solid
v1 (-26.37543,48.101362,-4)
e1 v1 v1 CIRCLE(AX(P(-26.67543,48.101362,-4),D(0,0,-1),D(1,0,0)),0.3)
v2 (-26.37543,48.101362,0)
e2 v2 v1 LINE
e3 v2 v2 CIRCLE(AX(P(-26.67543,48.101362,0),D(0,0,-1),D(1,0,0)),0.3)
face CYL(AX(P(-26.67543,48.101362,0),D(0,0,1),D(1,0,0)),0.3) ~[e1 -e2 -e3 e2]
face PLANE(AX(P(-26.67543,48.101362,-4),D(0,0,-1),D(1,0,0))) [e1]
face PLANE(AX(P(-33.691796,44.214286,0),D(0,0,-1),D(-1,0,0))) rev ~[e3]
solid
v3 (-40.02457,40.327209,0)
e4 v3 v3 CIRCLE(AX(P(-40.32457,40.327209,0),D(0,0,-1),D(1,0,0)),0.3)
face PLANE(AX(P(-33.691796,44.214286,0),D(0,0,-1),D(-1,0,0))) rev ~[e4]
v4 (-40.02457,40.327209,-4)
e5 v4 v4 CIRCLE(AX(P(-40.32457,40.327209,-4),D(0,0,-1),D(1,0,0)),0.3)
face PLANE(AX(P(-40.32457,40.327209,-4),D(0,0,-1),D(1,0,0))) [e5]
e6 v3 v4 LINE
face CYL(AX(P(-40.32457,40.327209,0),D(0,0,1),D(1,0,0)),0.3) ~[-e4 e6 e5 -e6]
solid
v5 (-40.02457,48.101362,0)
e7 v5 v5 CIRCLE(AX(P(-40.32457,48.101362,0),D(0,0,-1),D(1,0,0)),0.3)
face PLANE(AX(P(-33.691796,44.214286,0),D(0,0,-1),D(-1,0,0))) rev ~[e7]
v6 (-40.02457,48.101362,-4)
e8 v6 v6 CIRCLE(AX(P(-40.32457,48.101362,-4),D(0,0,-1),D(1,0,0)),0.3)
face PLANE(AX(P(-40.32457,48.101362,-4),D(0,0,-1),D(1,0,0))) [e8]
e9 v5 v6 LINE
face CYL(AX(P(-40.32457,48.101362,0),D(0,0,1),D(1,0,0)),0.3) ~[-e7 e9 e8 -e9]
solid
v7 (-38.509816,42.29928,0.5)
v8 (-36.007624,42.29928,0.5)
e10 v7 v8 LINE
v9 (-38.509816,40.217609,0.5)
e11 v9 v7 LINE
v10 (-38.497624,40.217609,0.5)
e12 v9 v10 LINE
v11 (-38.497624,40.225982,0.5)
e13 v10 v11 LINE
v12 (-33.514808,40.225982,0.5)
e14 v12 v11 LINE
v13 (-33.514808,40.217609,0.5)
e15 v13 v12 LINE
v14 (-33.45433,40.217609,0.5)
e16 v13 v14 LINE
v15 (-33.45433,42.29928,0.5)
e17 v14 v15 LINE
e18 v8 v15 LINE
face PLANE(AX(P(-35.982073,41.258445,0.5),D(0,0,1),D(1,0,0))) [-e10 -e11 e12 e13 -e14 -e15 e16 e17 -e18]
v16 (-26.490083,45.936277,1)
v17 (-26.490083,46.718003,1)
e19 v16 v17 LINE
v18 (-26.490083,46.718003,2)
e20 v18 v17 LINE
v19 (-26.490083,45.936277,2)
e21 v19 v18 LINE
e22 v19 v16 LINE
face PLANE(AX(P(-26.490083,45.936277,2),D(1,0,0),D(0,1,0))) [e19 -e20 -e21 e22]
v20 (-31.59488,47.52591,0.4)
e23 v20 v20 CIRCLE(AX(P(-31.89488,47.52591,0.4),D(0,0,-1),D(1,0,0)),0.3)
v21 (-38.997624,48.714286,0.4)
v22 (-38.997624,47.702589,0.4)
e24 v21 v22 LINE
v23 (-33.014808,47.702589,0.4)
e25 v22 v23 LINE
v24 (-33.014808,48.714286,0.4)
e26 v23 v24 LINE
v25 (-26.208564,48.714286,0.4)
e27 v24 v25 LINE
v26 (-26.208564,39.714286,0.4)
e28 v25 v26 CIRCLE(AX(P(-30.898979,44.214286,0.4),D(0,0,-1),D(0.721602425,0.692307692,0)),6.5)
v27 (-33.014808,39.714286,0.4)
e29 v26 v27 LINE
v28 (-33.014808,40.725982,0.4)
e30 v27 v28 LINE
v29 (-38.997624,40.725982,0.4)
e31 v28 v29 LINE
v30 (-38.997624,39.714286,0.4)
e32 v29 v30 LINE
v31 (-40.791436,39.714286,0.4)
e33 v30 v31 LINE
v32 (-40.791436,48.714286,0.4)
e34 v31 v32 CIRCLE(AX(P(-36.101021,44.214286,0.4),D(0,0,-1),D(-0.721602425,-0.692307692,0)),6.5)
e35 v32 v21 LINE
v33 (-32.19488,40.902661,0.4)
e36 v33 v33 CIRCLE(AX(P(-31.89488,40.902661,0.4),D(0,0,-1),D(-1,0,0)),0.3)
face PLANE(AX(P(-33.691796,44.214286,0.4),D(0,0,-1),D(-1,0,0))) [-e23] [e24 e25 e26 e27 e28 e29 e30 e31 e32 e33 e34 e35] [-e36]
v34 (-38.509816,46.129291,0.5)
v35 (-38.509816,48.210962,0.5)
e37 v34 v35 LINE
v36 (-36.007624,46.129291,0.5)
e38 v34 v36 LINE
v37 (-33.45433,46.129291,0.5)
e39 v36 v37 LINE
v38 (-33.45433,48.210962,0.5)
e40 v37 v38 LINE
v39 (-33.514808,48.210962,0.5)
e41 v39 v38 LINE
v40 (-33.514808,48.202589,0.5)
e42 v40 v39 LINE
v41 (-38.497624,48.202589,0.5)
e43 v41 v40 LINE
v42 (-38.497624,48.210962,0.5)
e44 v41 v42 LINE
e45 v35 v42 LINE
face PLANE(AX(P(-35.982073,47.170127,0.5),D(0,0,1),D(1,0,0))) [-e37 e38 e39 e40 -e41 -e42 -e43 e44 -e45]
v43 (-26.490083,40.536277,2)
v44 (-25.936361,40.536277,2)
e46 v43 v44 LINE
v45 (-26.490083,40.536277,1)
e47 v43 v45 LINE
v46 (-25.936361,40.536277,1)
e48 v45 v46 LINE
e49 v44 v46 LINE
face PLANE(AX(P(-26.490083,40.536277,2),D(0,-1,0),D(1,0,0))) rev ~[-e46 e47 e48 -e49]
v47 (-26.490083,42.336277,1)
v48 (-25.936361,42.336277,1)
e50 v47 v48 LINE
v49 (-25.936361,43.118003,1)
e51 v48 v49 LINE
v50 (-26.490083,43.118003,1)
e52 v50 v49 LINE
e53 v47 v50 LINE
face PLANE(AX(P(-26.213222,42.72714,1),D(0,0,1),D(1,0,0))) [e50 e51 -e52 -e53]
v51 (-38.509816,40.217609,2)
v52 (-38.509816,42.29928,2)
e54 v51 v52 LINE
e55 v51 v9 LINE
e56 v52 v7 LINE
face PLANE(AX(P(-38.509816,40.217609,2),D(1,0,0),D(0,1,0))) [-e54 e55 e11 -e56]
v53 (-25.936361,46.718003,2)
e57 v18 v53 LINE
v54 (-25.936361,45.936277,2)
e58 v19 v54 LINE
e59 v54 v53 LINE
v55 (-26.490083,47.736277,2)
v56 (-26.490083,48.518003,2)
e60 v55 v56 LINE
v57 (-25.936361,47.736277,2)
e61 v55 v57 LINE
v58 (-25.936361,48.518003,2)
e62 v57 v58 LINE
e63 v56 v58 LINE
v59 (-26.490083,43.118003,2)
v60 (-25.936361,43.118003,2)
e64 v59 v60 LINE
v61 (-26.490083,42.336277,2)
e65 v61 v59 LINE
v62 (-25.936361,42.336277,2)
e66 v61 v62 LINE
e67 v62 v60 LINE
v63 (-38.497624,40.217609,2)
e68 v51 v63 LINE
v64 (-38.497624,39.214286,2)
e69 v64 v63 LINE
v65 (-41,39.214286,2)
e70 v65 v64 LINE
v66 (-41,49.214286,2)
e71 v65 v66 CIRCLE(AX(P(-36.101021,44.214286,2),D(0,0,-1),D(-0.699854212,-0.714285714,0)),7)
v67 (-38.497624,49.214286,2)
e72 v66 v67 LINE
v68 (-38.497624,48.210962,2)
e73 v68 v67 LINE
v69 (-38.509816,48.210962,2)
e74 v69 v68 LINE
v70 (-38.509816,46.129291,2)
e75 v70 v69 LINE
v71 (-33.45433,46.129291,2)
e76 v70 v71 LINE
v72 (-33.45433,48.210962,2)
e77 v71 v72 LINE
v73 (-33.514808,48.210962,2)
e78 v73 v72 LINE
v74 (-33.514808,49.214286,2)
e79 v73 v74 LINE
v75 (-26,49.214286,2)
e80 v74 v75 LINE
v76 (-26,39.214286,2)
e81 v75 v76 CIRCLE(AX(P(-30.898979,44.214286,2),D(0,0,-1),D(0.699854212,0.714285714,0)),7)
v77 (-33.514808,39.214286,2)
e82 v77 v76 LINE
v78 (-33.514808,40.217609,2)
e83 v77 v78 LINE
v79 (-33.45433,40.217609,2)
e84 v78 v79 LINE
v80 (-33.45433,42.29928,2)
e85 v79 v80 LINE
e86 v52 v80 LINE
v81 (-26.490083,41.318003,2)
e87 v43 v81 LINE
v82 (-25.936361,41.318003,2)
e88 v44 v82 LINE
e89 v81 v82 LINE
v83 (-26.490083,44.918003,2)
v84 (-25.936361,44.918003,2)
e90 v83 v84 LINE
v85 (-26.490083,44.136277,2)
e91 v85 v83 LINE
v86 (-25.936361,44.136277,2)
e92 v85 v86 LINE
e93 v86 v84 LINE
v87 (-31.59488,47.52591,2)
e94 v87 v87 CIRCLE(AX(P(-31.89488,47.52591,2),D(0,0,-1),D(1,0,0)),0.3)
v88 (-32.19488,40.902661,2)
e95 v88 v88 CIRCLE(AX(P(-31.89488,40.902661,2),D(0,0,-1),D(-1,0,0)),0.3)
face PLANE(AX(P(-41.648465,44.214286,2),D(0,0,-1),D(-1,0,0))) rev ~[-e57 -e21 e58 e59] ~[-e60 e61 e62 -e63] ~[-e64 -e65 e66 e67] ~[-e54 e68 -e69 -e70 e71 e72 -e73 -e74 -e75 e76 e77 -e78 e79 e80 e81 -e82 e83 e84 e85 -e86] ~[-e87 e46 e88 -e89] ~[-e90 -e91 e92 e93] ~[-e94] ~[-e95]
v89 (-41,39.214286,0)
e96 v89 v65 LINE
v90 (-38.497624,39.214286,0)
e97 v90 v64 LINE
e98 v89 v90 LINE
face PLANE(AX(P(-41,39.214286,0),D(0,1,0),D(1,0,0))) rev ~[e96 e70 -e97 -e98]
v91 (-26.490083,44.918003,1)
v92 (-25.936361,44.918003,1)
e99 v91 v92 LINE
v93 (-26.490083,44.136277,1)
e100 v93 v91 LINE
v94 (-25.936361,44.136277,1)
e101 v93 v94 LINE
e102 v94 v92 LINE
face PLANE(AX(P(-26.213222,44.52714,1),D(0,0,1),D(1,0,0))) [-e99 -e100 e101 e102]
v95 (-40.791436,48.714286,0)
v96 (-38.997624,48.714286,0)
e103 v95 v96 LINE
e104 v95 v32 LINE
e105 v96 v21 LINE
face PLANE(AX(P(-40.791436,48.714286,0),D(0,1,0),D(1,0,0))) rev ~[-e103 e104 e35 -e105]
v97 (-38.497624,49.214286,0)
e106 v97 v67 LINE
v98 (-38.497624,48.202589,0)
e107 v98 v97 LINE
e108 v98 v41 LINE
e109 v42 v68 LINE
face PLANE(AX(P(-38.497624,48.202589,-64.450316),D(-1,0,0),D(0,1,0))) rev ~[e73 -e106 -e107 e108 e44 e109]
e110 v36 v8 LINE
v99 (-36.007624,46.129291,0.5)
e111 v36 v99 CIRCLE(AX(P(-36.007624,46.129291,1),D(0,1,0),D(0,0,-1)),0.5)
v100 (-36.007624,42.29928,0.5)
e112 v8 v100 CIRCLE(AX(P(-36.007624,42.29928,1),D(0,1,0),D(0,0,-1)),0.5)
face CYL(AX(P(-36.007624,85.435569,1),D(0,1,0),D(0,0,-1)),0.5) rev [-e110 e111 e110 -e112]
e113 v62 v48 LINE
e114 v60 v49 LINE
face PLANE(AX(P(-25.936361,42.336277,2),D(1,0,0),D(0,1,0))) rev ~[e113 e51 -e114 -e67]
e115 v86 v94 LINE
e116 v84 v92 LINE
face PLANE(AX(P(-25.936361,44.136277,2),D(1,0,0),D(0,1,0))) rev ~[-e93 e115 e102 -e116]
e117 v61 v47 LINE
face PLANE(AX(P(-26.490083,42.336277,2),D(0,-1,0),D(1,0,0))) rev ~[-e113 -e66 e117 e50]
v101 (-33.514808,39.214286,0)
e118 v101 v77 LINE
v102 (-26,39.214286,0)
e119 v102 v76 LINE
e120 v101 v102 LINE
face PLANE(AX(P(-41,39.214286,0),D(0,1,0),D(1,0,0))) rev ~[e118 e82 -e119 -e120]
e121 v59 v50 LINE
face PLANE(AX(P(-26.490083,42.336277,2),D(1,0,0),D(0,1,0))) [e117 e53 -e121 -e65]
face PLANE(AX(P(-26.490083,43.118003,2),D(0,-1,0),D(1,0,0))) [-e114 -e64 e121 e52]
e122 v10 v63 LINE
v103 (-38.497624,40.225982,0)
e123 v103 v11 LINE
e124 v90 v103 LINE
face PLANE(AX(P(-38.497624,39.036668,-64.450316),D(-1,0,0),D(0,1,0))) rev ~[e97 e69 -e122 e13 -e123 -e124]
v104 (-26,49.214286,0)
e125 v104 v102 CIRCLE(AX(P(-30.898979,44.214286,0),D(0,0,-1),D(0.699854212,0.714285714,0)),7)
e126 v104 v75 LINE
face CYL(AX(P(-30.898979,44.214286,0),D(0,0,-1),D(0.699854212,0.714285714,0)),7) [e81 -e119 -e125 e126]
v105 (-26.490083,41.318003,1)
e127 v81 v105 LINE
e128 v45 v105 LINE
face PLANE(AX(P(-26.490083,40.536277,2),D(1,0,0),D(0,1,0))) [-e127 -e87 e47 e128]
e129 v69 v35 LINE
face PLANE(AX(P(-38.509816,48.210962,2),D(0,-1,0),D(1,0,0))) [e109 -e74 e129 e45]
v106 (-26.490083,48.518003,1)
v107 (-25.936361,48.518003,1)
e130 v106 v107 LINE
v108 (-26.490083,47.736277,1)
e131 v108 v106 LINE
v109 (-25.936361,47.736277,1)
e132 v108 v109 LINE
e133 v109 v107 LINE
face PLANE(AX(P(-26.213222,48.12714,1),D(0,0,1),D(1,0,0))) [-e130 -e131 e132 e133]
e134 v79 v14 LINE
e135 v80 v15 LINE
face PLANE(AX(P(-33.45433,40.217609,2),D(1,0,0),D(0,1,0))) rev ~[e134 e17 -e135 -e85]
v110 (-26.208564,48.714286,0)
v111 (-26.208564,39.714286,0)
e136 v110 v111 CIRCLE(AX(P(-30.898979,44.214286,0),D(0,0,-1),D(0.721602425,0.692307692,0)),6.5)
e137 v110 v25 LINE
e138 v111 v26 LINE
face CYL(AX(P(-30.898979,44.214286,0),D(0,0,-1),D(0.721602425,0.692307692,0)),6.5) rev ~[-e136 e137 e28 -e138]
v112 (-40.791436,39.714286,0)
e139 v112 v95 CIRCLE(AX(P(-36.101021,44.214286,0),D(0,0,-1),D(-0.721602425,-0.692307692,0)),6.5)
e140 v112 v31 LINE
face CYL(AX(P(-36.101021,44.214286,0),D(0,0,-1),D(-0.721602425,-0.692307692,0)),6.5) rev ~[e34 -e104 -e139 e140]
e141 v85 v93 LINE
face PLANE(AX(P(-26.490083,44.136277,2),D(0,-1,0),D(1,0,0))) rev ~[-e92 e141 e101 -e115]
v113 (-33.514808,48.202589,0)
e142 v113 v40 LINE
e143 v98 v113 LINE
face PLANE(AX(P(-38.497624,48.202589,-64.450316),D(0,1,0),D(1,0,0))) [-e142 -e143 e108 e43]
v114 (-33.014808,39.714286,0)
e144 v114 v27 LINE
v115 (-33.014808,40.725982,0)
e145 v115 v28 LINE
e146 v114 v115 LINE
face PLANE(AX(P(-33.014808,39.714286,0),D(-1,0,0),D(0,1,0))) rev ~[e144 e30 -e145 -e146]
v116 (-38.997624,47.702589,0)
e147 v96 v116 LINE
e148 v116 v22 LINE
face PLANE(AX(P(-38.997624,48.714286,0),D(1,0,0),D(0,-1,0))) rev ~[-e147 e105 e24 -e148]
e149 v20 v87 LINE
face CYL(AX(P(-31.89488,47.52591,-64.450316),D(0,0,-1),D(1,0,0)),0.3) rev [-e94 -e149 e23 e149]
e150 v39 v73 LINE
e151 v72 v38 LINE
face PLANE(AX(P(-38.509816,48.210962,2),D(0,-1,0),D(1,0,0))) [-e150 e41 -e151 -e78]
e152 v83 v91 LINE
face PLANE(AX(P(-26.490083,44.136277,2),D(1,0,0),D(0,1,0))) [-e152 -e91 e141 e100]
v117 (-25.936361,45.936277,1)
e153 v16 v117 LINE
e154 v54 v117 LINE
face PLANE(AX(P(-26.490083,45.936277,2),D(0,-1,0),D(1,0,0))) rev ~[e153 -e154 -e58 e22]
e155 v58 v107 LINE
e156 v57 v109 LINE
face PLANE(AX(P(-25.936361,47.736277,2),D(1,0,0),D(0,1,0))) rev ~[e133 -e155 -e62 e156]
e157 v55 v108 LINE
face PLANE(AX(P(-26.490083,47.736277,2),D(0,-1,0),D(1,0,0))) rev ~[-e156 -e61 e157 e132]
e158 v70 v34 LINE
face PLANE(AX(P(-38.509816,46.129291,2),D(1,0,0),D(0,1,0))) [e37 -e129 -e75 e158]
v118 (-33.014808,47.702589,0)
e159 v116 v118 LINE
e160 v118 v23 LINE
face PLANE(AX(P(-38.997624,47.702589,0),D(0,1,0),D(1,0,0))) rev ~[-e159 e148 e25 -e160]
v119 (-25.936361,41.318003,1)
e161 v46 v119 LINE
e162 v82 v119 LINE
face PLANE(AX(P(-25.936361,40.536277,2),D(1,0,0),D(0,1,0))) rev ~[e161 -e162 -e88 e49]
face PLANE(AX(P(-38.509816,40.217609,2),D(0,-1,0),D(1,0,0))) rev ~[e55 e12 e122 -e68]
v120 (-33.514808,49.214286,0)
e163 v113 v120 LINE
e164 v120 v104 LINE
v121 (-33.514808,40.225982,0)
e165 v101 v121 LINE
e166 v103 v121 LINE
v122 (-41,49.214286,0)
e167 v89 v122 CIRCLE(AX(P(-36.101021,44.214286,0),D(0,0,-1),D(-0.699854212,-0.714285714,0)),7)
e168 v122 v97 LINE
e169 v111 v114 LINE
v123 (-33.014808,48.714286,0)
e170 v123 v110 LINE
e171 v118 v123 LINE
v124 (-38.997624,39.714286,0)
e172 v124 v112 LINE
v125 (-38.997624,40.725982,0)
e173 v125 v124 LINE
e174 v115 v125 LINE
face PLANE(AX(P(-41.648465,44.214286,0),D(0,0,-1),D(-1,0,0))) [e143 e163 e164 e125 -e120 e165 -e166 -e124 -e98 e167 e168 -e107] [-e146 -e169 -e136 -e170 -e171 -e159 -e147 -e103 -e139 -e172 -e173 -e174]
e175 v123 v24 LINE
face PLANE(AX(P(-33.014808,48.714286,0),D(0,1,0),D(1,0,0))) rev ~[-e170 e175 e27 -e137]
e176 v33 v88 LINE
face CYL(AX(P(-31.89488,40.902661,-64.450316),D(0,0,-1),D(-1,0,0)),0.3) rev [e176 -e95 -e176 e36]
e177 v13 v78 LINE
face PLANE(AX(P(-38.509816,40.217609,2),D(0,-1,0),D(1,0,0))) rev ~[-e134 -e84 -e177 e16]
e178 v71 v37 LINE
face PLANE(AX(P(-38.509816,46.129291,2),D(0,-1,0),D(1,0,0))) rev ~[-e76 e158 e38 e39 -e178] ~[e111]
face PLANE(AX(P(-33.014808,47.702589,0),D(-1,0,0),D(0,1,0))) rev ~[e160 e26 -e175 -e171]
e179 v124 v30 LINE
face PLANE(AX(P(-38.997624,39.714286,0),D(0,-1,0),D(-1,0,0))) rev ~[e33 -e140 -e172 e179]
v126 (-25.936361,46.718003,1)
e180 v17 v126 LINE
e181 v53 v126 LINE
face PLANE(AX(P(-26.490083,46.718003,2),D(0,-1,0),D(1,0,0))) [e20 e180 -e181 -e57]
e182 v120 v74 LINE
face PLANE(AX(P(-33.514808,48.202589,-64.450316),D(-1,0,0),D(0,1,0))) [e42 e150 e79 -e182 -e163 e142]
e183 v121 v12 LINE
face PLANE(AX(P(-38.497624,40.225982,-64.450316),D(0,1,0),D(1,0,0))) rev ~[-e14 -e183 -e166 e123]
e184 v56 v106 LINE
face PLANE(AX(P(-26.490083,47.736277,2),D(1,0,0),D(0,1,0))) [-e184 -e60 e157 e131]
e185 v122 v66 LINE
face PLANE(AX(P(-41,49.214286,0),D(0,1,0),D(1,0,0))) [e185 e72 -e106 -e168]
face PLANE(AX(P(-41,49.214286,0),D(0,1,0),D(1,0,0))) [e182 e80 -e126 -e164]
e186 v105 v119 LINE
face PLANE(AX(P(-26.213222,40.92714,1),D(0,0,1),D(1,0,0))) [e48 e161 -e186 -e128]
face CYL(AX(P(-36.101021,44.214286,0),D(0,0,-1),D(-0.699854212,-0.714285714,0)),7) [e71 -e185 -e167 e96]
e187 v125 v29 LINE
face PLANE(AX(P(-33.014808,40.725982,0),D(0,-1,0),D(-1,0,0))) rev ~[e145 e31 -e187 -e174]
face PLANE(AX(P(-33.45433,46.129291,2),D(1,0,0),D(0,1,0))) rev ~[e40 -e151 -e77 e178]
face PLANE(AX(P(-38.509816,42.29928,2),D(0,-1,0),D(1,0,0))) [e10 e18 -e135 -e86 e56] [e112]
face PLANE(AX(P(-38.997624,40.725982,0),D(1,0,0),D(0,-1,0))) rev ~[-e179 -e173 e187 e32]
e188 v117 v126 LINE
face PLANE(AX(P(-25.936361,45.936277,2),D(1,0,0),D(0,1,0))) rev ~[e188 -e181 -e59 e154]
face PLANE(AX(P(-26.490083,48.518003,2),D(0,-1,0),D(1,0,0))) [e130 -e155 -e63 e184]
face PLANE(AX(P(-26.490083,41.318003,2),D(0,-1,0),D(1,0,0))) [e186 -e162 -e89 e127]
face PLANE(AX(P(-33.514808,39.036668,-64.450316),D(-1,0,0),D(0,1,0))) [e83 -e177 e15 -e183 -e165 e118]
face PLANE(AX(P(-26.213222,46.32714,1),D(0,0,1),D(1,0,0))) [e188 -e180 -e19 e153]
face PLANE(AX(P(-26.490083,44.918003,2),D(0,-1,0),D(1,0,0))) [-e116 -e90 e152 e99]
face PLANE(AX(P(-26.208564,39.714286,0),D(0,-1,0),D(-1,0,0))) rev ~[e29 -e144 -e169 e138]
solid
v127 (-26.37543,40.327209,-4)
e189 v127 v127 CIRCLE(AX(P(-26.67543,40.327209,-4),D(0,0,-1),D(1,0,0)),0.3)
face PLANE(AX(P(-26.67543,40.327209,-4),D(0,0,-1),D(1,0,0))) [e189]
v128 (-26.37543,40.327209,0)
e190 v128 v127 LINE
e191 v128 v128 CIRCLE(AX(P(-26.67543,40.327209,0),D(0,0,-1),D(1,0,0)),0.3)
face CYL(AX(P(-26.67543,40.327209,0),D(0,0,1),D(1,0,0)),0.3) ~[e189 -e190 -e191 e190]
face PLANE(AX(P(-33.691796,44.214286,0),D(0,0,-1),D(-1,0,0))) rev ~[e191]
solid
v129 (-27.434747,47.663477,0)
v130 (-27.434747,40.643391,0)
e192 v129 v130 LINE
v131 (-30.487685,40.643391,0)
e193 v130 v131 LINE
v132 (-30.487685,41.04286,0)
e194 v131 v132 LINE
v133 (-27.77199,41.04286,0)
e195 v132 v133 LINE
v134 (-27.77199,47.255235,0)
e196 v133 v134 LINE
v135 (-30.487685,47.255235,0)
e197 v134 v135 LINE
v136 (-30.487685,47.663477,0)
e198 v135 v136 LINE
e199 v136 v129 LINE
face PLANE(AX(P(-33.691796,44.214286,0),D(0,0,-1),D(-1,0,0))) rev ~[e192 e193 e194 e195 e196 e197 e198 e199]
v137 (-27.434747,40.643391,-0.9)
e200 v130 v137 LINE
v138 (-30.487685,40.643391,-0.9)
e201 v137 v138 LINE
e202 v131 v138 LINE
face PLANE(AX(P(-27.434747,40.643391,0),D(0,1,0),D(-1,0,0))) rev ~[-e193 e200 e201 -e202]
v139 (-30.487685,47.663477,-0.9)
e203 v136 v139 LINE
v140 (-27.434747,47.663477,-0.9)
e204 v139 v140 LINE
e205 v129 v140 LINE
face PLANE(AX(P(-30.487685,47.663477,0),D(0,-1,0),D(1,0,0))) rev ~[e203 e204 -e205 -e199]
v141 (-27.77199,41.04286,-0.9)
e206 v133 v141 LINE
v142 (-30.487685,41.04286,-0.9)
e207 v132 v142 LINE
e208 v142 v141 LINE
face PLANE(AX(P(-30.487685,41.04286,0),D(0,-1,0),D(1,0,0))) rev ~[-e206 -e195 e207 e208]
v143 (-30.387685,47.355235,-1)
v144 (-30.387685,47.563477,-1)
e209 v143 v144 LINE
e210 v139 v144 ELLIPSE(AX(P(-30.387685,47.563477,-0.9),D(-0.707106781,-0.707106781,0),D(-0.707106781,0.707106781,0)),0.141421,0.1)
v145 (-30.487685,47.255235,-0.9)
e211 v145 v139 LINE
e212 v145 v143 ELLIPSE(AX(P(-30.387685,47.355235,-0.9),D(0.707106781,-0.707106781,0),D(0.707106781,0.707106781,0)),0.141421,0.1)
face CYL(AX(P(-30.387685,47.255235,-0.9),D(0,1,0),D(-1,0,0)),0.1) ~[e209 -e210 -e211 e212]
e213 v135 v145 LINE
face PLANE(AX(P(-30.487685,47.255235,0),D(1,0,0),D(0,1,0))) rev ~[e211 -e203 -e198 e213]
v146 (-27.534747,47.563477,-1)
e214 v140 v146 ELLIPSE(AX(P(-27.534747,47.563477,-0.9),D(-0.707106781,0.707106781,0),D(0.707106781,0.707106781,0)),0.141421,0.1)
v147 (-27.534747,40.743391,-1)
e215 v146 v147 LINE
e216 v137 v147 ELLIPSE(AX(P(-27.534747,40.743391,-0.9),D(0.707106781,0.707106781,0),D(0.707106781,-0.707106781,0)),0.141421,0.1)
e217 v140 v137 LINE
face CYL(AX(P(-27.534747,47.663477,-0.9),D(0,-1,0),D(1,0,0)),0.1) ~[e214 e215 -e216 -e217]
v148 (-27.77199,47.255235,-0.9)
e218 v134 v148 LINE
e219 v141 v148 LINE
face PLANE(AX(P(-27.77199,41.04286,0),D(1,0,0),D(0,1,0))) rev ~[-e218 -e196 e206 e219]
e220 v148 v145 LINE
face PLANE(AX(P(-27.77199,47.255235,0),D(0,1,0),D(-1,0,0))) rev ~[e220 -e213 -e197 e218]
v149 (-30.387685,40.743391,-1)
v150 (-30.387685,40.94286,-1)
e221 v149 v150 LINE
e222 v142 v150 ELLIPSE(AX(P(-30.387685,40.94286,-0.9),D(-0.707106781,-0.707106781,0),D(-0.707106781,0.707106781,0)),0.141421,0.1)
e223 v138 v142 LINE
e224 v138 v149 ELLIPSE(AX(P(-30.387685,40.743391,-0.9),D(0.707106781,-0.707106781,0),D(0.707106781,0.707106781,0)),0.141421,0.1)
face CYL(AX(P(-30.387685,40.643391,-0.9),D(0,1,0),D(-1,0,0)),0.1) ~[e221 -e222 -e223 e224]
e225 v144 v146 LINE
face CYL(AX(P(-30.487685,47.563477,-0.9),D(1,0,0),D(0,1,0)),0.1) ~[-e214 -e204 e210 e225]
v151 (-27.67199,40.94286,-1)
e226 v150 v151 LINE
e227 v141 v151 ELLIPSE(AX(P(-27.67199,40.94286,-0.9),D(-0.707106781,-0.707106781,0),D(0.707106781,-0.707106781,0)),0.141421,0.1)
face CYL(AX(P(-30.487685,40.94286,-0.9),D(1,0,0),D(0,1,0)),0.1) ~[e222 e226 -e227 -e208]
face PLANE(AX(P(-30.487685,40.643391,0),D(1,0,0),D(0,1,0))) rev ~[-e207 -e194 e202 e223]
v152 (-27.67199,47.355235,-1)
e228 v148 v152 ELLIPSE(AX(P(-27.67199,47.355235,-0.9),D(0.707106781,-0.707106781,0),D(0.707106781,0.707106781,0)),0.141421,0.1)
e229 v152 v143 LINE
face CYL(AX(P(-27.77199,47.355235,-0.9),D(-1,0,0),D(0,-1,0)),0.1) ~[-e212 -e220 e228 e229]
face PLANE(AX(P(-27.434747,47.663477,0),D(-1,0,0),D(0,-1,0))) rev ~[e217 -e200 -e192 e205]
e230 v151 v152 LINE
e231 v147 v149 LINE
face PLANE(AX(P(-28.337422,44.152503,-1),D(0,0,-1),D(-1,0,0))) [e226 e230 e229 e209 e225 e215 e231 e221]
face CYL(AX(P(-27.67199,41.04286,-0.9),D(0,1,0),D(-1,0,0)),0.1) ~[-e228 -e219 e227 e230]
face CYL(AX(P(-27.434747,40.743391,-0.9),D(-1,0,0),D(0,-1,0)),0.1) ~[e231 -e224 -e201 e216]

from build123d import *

# Parameters (mm, degrees)
SKETCH1_W               = 15
SKETCH1_H               = 10
BOSS_EXTRUDE1_DEPTH     = 2
CUT_EXTRUDE1_DEPTH      = 66.450316178
CUT_EXTRUDE1_DEPTH_BACK = 66.450316178
SKETCH2_W               = 4.982815842
SKETCH2_H               = 1.189314069
SKETCH2_H_2             = 1.18931407
CUT_EXTRUDE2_DEPTH      = 66.450316178
CUT_EXTRUDE2_DEPTH_BACK = 66.450316178
SKETCH3_R               = 0.3
SKETCH4_R               = 0.3
BOSS_EXTRUDE2_DEPTH     = 4
CUT_EXTRUDE3_DEPTH      = 45.209586789
CUT_EXTRUDE3_DEPTH_BACK = 45.209586789
SKETCH5_R               = 0.5
BOSS_EXTRUDE4_DEPTH     = 1
FILLET4_R               = 0.1
CUT_EXTRUDE4_DEPTH      = 0.4
SKETCH9_W               = 5.055486227
SKETCH9_H               = 2.081670799
SKETCH9_H_2             = 2.0816708
CUT_EXTRUDE5_DEPTH      = 1.5
SKETCH10_W              = 0.553722479
SKETCH10_H              = 0.781725852
CUT_EXTRUDE7_DEPTH      = 1


with BuildPart() as part:
    # Sketch1 → Boss-Extrude1 (new body)
    with BuildSketch(Plane.XY):
        with BuildLine():
            Line((-41, 49.214285714), (-41, 39.214285714))
            ThreePointArc((-41, 39.214285714), (-43.101020514, 44.214285714), (-41, 49.214285714))
        make_face()
        with Locations((-33.5, 44.214285714)):
            Rectangle(SKETCH1_W, SKETCH1_H)
        with BuildLine():
            ThreePointArc((-26, 49.214285714), (-23.898979486, 44.214285714), (-26, 39.214285714))
            Line((-26, 39.214285714), (-26, 49.214285714))
        make_face()
    extrude(amount=BOSS_EXTRUDE1_DEPTH)

    # Sketch2 → Cut-Extrude1 (cut, two sides: drawn at the far end of the back side and taken through both)
    with BuildSketch(Plane.XY.offset(2).offset(-CUT_EXTRUDE1_DEPTH_BACK)):
        with Locations((-36.006215856, 39.631325465)):
            Rectangle(SKETCH2_W, SKETCH2_H)
        with Locations((-36.006215856, 48.797245964)):
            Rectangle(SKETCH2_W, SKETCH2_H_2)
    extrude(amount=CUT_EXTRUDE1_DEPTH + CUT_EXTRUDE1_DEPTH_BACK, mode=Mode.SUBTRACT)

    # Sketch3 → Cut-Extrude2 (cut, two sides: drawn at the far end of the back side and taken through both)
    with BuildSketch(Plane.XY.offset(2).offset(-CUT_EXTRUDE2_DEPTH_BACK)):
        with Locations((-31.894880151, 47.525910235)):
            Circle(SKETCH3_R)
        with Locations(Location((-31.894880151, 40.902661194, 0), (0, 0, 180))):
            Circle(SKETCH3_R)
    extrude(amount=CUT_EXTRUDE2_DEPTH + CUT_EXTRUDE2_DEPTH_BACK, mode=Mode.SUBTRACT)

    # Sketch4 → Boss-Extrude2 (add)
    with BuildSketch(Plane(origin=(0, 0, 0), x_dir=(-1, 0, 0), z_dir=(0, 0, -1))):
        with Locations(Location((26.675429713, 48.101362416, 0), (0, 0, 180))):
            Circle(SKETCH4_R)
        with Locations(Location((26.675429713, 40.327209012, 0), (0, 0, 180))):
            Circle(SKETCH4_R)
        with Locations(Location((40.324570287, 40.327209012, 0), (0, 0, 180))):
            Circle(SKETCH4_R)
        with Locations(Location((40.324570287, 48.101362416, 0), (0, 0, 180))):
            Circle(SKETCH4_R)
    extrude(amount=BOSS_EXTRUDE2_DEPTH)

    # Sketch5 → Cut-Extrude3 (cut, two sides: drawn at the far end of the back side and taken through both)
    with BuildSketch(Plane.XZ.offset(-40.225982499).offset(-CUT_EXTRUDE3_DEPTH_BACK)):
        with Locations(Location((-36.007623777, 1, 0), (0, 0, 270))):
            Circle(SKETCH5_R)
    extrude(amount=CUT_EXTRUDE3_DEPTH + CUT_EXTRUDE3_DEPTH_BACK, mode=Mode.SUBTRACT)

    # Sketch6 → Boss-Extrude4 (add)
    with BuildSketch(Plane(origin=(0, 0, 0), x_dir=(-1, 0, 0), z_dir=(0, 0, -1))):
        Polygon((27.771990414, 41.042860475), (27.771990414, 47.255234787), (30.48768547, 47.255234787), (30.48768547, 47.663476527), (27.434747237, 47.663476527), (27.434747237, 40.643391403), (30.48768547, 40.643391403), (30.48768547, 41.042860475), align=None)
    extrude(amount=BOSS_EXTRUDE4_DEPTH)

    # Fillet4
    fillet4_edges = [part.edges().sort_by_distance(p)[0] for p in [
        (-30.48768547, 47.459355657, -1),
        (-28.961216354, 47.663476527, -1),
        (-30.48768547, 40.843125939, -1),
        (-29.129837942, 41.042860475, -1),
        (-27.771990414, 44.149047631, -1),
        (-27.434747237, 44.153433965, -1),
        (-28.961216354, 40.643391403, -1),
        (-29.129837942, 47.255234787, -1),
    ]]
    fillet(fillet4_edges, radius=FILLET4_R)

    # Sketch8 → Cut-Extrude4 (cut)
    with BuildSketch(Plane(origin=(0, 0, 0), x_dir=(-1, 0, 0), z_dir=(0, 0, -1))):
        with BuildLine():
            Line((40.791436274, 48.714285714), (38.997623777, 48.714285714))
            Line((38.997623777, 48.714285714), (38.997623777, 47.702588929))
            Line((38.997623777, 47.702588929), (33.014807935, 47.702588929))
            Line((33.014807935, 47.702588929), (33.014807935, 48.714285714))
            Line((33.014807935, 48.714285714), (26.208563726, 48.714285714))
            ThreePointArc((26.208563726, 48.714285714), (24.398979486, 44.214285714), (26.208563726, 39.714285714))
            Line((26.208563726, 39.714285714), (33.014807935, 39.714285714))
            Line((33.014807935, 39.714285714), (33.014807935, 40.725982499))
            Line((33.014807935, 40.725982499), (38.997623777, 40.725982499))
            Line((38.997623777, 40.725982499), (38.997623777, 39.714285714))
            Line((38.997623777, 39.714285714), (40.791436274, 39.714285714))
            ThreePointArc((40.791436274, 39.714285714), (42.601020514, 44.214285714), (40.791436274, 48.714285714))
        make_face()
    extrude(amount=-CUT_EXTRUDE4_DEPTH, mode=Mode.SUBTRACT)


with BuildPart() as cut_extrude4_piece_1:
    # of the separate pieces the step leaves, piece 1, a body of its own (cut_extrude4_pieces)
    add(part.part.solids().sort_by_distance((-41, 39.214285714, 0))[0])

    # Sketch9 → Cut-Extrude5 (cut)
    with BuildSketch(Plane.XY.offset(2)):
        with Locations((-35.982073043, 47.170126627)):
            Rectangle(SKETCH9_W, SKETCH9_H)
        with Locations((-35.982073043, 41.258444801)):
            Rectangle(SKETCH9_W, SKETCH9_H_2)
    extrude(amount=-CUT_EXTRUDE5_DEPTH, mode=Mode.SUBTRACT)

    # Sketch10 → Cut-Extrude7 (cut)
    with BuildSketch(Plane.XY.offset(2)):
        with Locations((-26.213222197, 46.3271403)):
            Rectangle(SKETCH10_W, SKETCH10_H)
        with Locations((-26.213222197, 48.1271403)):
            Rectangle(SKETCH10_W, SKETCH10_H)
        with Locations((-26.213222197, 44.5271403)):
            Rectangle(SKETCH10_W, SKETCH10_H)
        with Locations((-26.213222197, 42.7271403)):
            Rectangle(SKETCH10_W, SKETCH10_H)
        with Locations((-26.213222197, 40.9271403)):
            Rectangle(SKETCH10_W, SKETCH10_H)
    extrude(amount=-CUT_EXTRUDE7_DEPTH, mode=Mode.SUBTRACT)


with BuildPart() as cut_extrude4_piece_2:
    # of the separate pieces the step leaves, piece 2, a body of its own (cut_extrude4_pieces)
    add(part.part.solids().sort_by_distance((-27.771990414, 41.042860475, -0.9))[0])


with BuildPart() as cut_extrude4_piece_3:
    # of the separate pieces the step leaves, piece 3, a body of its own (cut_extrude4_pieces)
    add(part.part.solids().sort_by_distance((-40.024570287, 40.327209012, 0))[0])


with BuildPart() as cut_extrude4_piece_4:
    # of the separate pieces the step leaves, piece 4, a body of its own (cut_extrude4_pieces)
    add(part.part.solids().sort_by_distance((-40.024570287, 48.101362416, 0))[0])


with BuildPart() as cut_extrude4_piece_5:
    # of the separate pieces the step leaves, piece 5, a body of its own (cut_extrude4_pieces)
    add(part.part.solids().sort_by_distance((-26.375429713, 40.327209012, 0))[0])


with BuildPart() as cut_extrude4_piece_6:
    # of the separate pieces the step leaves, piece 6, a body of its own (cut_extrude4_pieces)
    add(part.part.solids().sort_by_distance((-26.375429713, 48.101362416, 0))[0])


solid = Compound([cut_extrude4_piece_1.part, cut_extrude4_piece_2.part, cut_extrude4_piece_3.part, cut_extrude4_piece_4.part, cut_extrude4_piece_5.part, cut_extrude4_piece_6.part])
